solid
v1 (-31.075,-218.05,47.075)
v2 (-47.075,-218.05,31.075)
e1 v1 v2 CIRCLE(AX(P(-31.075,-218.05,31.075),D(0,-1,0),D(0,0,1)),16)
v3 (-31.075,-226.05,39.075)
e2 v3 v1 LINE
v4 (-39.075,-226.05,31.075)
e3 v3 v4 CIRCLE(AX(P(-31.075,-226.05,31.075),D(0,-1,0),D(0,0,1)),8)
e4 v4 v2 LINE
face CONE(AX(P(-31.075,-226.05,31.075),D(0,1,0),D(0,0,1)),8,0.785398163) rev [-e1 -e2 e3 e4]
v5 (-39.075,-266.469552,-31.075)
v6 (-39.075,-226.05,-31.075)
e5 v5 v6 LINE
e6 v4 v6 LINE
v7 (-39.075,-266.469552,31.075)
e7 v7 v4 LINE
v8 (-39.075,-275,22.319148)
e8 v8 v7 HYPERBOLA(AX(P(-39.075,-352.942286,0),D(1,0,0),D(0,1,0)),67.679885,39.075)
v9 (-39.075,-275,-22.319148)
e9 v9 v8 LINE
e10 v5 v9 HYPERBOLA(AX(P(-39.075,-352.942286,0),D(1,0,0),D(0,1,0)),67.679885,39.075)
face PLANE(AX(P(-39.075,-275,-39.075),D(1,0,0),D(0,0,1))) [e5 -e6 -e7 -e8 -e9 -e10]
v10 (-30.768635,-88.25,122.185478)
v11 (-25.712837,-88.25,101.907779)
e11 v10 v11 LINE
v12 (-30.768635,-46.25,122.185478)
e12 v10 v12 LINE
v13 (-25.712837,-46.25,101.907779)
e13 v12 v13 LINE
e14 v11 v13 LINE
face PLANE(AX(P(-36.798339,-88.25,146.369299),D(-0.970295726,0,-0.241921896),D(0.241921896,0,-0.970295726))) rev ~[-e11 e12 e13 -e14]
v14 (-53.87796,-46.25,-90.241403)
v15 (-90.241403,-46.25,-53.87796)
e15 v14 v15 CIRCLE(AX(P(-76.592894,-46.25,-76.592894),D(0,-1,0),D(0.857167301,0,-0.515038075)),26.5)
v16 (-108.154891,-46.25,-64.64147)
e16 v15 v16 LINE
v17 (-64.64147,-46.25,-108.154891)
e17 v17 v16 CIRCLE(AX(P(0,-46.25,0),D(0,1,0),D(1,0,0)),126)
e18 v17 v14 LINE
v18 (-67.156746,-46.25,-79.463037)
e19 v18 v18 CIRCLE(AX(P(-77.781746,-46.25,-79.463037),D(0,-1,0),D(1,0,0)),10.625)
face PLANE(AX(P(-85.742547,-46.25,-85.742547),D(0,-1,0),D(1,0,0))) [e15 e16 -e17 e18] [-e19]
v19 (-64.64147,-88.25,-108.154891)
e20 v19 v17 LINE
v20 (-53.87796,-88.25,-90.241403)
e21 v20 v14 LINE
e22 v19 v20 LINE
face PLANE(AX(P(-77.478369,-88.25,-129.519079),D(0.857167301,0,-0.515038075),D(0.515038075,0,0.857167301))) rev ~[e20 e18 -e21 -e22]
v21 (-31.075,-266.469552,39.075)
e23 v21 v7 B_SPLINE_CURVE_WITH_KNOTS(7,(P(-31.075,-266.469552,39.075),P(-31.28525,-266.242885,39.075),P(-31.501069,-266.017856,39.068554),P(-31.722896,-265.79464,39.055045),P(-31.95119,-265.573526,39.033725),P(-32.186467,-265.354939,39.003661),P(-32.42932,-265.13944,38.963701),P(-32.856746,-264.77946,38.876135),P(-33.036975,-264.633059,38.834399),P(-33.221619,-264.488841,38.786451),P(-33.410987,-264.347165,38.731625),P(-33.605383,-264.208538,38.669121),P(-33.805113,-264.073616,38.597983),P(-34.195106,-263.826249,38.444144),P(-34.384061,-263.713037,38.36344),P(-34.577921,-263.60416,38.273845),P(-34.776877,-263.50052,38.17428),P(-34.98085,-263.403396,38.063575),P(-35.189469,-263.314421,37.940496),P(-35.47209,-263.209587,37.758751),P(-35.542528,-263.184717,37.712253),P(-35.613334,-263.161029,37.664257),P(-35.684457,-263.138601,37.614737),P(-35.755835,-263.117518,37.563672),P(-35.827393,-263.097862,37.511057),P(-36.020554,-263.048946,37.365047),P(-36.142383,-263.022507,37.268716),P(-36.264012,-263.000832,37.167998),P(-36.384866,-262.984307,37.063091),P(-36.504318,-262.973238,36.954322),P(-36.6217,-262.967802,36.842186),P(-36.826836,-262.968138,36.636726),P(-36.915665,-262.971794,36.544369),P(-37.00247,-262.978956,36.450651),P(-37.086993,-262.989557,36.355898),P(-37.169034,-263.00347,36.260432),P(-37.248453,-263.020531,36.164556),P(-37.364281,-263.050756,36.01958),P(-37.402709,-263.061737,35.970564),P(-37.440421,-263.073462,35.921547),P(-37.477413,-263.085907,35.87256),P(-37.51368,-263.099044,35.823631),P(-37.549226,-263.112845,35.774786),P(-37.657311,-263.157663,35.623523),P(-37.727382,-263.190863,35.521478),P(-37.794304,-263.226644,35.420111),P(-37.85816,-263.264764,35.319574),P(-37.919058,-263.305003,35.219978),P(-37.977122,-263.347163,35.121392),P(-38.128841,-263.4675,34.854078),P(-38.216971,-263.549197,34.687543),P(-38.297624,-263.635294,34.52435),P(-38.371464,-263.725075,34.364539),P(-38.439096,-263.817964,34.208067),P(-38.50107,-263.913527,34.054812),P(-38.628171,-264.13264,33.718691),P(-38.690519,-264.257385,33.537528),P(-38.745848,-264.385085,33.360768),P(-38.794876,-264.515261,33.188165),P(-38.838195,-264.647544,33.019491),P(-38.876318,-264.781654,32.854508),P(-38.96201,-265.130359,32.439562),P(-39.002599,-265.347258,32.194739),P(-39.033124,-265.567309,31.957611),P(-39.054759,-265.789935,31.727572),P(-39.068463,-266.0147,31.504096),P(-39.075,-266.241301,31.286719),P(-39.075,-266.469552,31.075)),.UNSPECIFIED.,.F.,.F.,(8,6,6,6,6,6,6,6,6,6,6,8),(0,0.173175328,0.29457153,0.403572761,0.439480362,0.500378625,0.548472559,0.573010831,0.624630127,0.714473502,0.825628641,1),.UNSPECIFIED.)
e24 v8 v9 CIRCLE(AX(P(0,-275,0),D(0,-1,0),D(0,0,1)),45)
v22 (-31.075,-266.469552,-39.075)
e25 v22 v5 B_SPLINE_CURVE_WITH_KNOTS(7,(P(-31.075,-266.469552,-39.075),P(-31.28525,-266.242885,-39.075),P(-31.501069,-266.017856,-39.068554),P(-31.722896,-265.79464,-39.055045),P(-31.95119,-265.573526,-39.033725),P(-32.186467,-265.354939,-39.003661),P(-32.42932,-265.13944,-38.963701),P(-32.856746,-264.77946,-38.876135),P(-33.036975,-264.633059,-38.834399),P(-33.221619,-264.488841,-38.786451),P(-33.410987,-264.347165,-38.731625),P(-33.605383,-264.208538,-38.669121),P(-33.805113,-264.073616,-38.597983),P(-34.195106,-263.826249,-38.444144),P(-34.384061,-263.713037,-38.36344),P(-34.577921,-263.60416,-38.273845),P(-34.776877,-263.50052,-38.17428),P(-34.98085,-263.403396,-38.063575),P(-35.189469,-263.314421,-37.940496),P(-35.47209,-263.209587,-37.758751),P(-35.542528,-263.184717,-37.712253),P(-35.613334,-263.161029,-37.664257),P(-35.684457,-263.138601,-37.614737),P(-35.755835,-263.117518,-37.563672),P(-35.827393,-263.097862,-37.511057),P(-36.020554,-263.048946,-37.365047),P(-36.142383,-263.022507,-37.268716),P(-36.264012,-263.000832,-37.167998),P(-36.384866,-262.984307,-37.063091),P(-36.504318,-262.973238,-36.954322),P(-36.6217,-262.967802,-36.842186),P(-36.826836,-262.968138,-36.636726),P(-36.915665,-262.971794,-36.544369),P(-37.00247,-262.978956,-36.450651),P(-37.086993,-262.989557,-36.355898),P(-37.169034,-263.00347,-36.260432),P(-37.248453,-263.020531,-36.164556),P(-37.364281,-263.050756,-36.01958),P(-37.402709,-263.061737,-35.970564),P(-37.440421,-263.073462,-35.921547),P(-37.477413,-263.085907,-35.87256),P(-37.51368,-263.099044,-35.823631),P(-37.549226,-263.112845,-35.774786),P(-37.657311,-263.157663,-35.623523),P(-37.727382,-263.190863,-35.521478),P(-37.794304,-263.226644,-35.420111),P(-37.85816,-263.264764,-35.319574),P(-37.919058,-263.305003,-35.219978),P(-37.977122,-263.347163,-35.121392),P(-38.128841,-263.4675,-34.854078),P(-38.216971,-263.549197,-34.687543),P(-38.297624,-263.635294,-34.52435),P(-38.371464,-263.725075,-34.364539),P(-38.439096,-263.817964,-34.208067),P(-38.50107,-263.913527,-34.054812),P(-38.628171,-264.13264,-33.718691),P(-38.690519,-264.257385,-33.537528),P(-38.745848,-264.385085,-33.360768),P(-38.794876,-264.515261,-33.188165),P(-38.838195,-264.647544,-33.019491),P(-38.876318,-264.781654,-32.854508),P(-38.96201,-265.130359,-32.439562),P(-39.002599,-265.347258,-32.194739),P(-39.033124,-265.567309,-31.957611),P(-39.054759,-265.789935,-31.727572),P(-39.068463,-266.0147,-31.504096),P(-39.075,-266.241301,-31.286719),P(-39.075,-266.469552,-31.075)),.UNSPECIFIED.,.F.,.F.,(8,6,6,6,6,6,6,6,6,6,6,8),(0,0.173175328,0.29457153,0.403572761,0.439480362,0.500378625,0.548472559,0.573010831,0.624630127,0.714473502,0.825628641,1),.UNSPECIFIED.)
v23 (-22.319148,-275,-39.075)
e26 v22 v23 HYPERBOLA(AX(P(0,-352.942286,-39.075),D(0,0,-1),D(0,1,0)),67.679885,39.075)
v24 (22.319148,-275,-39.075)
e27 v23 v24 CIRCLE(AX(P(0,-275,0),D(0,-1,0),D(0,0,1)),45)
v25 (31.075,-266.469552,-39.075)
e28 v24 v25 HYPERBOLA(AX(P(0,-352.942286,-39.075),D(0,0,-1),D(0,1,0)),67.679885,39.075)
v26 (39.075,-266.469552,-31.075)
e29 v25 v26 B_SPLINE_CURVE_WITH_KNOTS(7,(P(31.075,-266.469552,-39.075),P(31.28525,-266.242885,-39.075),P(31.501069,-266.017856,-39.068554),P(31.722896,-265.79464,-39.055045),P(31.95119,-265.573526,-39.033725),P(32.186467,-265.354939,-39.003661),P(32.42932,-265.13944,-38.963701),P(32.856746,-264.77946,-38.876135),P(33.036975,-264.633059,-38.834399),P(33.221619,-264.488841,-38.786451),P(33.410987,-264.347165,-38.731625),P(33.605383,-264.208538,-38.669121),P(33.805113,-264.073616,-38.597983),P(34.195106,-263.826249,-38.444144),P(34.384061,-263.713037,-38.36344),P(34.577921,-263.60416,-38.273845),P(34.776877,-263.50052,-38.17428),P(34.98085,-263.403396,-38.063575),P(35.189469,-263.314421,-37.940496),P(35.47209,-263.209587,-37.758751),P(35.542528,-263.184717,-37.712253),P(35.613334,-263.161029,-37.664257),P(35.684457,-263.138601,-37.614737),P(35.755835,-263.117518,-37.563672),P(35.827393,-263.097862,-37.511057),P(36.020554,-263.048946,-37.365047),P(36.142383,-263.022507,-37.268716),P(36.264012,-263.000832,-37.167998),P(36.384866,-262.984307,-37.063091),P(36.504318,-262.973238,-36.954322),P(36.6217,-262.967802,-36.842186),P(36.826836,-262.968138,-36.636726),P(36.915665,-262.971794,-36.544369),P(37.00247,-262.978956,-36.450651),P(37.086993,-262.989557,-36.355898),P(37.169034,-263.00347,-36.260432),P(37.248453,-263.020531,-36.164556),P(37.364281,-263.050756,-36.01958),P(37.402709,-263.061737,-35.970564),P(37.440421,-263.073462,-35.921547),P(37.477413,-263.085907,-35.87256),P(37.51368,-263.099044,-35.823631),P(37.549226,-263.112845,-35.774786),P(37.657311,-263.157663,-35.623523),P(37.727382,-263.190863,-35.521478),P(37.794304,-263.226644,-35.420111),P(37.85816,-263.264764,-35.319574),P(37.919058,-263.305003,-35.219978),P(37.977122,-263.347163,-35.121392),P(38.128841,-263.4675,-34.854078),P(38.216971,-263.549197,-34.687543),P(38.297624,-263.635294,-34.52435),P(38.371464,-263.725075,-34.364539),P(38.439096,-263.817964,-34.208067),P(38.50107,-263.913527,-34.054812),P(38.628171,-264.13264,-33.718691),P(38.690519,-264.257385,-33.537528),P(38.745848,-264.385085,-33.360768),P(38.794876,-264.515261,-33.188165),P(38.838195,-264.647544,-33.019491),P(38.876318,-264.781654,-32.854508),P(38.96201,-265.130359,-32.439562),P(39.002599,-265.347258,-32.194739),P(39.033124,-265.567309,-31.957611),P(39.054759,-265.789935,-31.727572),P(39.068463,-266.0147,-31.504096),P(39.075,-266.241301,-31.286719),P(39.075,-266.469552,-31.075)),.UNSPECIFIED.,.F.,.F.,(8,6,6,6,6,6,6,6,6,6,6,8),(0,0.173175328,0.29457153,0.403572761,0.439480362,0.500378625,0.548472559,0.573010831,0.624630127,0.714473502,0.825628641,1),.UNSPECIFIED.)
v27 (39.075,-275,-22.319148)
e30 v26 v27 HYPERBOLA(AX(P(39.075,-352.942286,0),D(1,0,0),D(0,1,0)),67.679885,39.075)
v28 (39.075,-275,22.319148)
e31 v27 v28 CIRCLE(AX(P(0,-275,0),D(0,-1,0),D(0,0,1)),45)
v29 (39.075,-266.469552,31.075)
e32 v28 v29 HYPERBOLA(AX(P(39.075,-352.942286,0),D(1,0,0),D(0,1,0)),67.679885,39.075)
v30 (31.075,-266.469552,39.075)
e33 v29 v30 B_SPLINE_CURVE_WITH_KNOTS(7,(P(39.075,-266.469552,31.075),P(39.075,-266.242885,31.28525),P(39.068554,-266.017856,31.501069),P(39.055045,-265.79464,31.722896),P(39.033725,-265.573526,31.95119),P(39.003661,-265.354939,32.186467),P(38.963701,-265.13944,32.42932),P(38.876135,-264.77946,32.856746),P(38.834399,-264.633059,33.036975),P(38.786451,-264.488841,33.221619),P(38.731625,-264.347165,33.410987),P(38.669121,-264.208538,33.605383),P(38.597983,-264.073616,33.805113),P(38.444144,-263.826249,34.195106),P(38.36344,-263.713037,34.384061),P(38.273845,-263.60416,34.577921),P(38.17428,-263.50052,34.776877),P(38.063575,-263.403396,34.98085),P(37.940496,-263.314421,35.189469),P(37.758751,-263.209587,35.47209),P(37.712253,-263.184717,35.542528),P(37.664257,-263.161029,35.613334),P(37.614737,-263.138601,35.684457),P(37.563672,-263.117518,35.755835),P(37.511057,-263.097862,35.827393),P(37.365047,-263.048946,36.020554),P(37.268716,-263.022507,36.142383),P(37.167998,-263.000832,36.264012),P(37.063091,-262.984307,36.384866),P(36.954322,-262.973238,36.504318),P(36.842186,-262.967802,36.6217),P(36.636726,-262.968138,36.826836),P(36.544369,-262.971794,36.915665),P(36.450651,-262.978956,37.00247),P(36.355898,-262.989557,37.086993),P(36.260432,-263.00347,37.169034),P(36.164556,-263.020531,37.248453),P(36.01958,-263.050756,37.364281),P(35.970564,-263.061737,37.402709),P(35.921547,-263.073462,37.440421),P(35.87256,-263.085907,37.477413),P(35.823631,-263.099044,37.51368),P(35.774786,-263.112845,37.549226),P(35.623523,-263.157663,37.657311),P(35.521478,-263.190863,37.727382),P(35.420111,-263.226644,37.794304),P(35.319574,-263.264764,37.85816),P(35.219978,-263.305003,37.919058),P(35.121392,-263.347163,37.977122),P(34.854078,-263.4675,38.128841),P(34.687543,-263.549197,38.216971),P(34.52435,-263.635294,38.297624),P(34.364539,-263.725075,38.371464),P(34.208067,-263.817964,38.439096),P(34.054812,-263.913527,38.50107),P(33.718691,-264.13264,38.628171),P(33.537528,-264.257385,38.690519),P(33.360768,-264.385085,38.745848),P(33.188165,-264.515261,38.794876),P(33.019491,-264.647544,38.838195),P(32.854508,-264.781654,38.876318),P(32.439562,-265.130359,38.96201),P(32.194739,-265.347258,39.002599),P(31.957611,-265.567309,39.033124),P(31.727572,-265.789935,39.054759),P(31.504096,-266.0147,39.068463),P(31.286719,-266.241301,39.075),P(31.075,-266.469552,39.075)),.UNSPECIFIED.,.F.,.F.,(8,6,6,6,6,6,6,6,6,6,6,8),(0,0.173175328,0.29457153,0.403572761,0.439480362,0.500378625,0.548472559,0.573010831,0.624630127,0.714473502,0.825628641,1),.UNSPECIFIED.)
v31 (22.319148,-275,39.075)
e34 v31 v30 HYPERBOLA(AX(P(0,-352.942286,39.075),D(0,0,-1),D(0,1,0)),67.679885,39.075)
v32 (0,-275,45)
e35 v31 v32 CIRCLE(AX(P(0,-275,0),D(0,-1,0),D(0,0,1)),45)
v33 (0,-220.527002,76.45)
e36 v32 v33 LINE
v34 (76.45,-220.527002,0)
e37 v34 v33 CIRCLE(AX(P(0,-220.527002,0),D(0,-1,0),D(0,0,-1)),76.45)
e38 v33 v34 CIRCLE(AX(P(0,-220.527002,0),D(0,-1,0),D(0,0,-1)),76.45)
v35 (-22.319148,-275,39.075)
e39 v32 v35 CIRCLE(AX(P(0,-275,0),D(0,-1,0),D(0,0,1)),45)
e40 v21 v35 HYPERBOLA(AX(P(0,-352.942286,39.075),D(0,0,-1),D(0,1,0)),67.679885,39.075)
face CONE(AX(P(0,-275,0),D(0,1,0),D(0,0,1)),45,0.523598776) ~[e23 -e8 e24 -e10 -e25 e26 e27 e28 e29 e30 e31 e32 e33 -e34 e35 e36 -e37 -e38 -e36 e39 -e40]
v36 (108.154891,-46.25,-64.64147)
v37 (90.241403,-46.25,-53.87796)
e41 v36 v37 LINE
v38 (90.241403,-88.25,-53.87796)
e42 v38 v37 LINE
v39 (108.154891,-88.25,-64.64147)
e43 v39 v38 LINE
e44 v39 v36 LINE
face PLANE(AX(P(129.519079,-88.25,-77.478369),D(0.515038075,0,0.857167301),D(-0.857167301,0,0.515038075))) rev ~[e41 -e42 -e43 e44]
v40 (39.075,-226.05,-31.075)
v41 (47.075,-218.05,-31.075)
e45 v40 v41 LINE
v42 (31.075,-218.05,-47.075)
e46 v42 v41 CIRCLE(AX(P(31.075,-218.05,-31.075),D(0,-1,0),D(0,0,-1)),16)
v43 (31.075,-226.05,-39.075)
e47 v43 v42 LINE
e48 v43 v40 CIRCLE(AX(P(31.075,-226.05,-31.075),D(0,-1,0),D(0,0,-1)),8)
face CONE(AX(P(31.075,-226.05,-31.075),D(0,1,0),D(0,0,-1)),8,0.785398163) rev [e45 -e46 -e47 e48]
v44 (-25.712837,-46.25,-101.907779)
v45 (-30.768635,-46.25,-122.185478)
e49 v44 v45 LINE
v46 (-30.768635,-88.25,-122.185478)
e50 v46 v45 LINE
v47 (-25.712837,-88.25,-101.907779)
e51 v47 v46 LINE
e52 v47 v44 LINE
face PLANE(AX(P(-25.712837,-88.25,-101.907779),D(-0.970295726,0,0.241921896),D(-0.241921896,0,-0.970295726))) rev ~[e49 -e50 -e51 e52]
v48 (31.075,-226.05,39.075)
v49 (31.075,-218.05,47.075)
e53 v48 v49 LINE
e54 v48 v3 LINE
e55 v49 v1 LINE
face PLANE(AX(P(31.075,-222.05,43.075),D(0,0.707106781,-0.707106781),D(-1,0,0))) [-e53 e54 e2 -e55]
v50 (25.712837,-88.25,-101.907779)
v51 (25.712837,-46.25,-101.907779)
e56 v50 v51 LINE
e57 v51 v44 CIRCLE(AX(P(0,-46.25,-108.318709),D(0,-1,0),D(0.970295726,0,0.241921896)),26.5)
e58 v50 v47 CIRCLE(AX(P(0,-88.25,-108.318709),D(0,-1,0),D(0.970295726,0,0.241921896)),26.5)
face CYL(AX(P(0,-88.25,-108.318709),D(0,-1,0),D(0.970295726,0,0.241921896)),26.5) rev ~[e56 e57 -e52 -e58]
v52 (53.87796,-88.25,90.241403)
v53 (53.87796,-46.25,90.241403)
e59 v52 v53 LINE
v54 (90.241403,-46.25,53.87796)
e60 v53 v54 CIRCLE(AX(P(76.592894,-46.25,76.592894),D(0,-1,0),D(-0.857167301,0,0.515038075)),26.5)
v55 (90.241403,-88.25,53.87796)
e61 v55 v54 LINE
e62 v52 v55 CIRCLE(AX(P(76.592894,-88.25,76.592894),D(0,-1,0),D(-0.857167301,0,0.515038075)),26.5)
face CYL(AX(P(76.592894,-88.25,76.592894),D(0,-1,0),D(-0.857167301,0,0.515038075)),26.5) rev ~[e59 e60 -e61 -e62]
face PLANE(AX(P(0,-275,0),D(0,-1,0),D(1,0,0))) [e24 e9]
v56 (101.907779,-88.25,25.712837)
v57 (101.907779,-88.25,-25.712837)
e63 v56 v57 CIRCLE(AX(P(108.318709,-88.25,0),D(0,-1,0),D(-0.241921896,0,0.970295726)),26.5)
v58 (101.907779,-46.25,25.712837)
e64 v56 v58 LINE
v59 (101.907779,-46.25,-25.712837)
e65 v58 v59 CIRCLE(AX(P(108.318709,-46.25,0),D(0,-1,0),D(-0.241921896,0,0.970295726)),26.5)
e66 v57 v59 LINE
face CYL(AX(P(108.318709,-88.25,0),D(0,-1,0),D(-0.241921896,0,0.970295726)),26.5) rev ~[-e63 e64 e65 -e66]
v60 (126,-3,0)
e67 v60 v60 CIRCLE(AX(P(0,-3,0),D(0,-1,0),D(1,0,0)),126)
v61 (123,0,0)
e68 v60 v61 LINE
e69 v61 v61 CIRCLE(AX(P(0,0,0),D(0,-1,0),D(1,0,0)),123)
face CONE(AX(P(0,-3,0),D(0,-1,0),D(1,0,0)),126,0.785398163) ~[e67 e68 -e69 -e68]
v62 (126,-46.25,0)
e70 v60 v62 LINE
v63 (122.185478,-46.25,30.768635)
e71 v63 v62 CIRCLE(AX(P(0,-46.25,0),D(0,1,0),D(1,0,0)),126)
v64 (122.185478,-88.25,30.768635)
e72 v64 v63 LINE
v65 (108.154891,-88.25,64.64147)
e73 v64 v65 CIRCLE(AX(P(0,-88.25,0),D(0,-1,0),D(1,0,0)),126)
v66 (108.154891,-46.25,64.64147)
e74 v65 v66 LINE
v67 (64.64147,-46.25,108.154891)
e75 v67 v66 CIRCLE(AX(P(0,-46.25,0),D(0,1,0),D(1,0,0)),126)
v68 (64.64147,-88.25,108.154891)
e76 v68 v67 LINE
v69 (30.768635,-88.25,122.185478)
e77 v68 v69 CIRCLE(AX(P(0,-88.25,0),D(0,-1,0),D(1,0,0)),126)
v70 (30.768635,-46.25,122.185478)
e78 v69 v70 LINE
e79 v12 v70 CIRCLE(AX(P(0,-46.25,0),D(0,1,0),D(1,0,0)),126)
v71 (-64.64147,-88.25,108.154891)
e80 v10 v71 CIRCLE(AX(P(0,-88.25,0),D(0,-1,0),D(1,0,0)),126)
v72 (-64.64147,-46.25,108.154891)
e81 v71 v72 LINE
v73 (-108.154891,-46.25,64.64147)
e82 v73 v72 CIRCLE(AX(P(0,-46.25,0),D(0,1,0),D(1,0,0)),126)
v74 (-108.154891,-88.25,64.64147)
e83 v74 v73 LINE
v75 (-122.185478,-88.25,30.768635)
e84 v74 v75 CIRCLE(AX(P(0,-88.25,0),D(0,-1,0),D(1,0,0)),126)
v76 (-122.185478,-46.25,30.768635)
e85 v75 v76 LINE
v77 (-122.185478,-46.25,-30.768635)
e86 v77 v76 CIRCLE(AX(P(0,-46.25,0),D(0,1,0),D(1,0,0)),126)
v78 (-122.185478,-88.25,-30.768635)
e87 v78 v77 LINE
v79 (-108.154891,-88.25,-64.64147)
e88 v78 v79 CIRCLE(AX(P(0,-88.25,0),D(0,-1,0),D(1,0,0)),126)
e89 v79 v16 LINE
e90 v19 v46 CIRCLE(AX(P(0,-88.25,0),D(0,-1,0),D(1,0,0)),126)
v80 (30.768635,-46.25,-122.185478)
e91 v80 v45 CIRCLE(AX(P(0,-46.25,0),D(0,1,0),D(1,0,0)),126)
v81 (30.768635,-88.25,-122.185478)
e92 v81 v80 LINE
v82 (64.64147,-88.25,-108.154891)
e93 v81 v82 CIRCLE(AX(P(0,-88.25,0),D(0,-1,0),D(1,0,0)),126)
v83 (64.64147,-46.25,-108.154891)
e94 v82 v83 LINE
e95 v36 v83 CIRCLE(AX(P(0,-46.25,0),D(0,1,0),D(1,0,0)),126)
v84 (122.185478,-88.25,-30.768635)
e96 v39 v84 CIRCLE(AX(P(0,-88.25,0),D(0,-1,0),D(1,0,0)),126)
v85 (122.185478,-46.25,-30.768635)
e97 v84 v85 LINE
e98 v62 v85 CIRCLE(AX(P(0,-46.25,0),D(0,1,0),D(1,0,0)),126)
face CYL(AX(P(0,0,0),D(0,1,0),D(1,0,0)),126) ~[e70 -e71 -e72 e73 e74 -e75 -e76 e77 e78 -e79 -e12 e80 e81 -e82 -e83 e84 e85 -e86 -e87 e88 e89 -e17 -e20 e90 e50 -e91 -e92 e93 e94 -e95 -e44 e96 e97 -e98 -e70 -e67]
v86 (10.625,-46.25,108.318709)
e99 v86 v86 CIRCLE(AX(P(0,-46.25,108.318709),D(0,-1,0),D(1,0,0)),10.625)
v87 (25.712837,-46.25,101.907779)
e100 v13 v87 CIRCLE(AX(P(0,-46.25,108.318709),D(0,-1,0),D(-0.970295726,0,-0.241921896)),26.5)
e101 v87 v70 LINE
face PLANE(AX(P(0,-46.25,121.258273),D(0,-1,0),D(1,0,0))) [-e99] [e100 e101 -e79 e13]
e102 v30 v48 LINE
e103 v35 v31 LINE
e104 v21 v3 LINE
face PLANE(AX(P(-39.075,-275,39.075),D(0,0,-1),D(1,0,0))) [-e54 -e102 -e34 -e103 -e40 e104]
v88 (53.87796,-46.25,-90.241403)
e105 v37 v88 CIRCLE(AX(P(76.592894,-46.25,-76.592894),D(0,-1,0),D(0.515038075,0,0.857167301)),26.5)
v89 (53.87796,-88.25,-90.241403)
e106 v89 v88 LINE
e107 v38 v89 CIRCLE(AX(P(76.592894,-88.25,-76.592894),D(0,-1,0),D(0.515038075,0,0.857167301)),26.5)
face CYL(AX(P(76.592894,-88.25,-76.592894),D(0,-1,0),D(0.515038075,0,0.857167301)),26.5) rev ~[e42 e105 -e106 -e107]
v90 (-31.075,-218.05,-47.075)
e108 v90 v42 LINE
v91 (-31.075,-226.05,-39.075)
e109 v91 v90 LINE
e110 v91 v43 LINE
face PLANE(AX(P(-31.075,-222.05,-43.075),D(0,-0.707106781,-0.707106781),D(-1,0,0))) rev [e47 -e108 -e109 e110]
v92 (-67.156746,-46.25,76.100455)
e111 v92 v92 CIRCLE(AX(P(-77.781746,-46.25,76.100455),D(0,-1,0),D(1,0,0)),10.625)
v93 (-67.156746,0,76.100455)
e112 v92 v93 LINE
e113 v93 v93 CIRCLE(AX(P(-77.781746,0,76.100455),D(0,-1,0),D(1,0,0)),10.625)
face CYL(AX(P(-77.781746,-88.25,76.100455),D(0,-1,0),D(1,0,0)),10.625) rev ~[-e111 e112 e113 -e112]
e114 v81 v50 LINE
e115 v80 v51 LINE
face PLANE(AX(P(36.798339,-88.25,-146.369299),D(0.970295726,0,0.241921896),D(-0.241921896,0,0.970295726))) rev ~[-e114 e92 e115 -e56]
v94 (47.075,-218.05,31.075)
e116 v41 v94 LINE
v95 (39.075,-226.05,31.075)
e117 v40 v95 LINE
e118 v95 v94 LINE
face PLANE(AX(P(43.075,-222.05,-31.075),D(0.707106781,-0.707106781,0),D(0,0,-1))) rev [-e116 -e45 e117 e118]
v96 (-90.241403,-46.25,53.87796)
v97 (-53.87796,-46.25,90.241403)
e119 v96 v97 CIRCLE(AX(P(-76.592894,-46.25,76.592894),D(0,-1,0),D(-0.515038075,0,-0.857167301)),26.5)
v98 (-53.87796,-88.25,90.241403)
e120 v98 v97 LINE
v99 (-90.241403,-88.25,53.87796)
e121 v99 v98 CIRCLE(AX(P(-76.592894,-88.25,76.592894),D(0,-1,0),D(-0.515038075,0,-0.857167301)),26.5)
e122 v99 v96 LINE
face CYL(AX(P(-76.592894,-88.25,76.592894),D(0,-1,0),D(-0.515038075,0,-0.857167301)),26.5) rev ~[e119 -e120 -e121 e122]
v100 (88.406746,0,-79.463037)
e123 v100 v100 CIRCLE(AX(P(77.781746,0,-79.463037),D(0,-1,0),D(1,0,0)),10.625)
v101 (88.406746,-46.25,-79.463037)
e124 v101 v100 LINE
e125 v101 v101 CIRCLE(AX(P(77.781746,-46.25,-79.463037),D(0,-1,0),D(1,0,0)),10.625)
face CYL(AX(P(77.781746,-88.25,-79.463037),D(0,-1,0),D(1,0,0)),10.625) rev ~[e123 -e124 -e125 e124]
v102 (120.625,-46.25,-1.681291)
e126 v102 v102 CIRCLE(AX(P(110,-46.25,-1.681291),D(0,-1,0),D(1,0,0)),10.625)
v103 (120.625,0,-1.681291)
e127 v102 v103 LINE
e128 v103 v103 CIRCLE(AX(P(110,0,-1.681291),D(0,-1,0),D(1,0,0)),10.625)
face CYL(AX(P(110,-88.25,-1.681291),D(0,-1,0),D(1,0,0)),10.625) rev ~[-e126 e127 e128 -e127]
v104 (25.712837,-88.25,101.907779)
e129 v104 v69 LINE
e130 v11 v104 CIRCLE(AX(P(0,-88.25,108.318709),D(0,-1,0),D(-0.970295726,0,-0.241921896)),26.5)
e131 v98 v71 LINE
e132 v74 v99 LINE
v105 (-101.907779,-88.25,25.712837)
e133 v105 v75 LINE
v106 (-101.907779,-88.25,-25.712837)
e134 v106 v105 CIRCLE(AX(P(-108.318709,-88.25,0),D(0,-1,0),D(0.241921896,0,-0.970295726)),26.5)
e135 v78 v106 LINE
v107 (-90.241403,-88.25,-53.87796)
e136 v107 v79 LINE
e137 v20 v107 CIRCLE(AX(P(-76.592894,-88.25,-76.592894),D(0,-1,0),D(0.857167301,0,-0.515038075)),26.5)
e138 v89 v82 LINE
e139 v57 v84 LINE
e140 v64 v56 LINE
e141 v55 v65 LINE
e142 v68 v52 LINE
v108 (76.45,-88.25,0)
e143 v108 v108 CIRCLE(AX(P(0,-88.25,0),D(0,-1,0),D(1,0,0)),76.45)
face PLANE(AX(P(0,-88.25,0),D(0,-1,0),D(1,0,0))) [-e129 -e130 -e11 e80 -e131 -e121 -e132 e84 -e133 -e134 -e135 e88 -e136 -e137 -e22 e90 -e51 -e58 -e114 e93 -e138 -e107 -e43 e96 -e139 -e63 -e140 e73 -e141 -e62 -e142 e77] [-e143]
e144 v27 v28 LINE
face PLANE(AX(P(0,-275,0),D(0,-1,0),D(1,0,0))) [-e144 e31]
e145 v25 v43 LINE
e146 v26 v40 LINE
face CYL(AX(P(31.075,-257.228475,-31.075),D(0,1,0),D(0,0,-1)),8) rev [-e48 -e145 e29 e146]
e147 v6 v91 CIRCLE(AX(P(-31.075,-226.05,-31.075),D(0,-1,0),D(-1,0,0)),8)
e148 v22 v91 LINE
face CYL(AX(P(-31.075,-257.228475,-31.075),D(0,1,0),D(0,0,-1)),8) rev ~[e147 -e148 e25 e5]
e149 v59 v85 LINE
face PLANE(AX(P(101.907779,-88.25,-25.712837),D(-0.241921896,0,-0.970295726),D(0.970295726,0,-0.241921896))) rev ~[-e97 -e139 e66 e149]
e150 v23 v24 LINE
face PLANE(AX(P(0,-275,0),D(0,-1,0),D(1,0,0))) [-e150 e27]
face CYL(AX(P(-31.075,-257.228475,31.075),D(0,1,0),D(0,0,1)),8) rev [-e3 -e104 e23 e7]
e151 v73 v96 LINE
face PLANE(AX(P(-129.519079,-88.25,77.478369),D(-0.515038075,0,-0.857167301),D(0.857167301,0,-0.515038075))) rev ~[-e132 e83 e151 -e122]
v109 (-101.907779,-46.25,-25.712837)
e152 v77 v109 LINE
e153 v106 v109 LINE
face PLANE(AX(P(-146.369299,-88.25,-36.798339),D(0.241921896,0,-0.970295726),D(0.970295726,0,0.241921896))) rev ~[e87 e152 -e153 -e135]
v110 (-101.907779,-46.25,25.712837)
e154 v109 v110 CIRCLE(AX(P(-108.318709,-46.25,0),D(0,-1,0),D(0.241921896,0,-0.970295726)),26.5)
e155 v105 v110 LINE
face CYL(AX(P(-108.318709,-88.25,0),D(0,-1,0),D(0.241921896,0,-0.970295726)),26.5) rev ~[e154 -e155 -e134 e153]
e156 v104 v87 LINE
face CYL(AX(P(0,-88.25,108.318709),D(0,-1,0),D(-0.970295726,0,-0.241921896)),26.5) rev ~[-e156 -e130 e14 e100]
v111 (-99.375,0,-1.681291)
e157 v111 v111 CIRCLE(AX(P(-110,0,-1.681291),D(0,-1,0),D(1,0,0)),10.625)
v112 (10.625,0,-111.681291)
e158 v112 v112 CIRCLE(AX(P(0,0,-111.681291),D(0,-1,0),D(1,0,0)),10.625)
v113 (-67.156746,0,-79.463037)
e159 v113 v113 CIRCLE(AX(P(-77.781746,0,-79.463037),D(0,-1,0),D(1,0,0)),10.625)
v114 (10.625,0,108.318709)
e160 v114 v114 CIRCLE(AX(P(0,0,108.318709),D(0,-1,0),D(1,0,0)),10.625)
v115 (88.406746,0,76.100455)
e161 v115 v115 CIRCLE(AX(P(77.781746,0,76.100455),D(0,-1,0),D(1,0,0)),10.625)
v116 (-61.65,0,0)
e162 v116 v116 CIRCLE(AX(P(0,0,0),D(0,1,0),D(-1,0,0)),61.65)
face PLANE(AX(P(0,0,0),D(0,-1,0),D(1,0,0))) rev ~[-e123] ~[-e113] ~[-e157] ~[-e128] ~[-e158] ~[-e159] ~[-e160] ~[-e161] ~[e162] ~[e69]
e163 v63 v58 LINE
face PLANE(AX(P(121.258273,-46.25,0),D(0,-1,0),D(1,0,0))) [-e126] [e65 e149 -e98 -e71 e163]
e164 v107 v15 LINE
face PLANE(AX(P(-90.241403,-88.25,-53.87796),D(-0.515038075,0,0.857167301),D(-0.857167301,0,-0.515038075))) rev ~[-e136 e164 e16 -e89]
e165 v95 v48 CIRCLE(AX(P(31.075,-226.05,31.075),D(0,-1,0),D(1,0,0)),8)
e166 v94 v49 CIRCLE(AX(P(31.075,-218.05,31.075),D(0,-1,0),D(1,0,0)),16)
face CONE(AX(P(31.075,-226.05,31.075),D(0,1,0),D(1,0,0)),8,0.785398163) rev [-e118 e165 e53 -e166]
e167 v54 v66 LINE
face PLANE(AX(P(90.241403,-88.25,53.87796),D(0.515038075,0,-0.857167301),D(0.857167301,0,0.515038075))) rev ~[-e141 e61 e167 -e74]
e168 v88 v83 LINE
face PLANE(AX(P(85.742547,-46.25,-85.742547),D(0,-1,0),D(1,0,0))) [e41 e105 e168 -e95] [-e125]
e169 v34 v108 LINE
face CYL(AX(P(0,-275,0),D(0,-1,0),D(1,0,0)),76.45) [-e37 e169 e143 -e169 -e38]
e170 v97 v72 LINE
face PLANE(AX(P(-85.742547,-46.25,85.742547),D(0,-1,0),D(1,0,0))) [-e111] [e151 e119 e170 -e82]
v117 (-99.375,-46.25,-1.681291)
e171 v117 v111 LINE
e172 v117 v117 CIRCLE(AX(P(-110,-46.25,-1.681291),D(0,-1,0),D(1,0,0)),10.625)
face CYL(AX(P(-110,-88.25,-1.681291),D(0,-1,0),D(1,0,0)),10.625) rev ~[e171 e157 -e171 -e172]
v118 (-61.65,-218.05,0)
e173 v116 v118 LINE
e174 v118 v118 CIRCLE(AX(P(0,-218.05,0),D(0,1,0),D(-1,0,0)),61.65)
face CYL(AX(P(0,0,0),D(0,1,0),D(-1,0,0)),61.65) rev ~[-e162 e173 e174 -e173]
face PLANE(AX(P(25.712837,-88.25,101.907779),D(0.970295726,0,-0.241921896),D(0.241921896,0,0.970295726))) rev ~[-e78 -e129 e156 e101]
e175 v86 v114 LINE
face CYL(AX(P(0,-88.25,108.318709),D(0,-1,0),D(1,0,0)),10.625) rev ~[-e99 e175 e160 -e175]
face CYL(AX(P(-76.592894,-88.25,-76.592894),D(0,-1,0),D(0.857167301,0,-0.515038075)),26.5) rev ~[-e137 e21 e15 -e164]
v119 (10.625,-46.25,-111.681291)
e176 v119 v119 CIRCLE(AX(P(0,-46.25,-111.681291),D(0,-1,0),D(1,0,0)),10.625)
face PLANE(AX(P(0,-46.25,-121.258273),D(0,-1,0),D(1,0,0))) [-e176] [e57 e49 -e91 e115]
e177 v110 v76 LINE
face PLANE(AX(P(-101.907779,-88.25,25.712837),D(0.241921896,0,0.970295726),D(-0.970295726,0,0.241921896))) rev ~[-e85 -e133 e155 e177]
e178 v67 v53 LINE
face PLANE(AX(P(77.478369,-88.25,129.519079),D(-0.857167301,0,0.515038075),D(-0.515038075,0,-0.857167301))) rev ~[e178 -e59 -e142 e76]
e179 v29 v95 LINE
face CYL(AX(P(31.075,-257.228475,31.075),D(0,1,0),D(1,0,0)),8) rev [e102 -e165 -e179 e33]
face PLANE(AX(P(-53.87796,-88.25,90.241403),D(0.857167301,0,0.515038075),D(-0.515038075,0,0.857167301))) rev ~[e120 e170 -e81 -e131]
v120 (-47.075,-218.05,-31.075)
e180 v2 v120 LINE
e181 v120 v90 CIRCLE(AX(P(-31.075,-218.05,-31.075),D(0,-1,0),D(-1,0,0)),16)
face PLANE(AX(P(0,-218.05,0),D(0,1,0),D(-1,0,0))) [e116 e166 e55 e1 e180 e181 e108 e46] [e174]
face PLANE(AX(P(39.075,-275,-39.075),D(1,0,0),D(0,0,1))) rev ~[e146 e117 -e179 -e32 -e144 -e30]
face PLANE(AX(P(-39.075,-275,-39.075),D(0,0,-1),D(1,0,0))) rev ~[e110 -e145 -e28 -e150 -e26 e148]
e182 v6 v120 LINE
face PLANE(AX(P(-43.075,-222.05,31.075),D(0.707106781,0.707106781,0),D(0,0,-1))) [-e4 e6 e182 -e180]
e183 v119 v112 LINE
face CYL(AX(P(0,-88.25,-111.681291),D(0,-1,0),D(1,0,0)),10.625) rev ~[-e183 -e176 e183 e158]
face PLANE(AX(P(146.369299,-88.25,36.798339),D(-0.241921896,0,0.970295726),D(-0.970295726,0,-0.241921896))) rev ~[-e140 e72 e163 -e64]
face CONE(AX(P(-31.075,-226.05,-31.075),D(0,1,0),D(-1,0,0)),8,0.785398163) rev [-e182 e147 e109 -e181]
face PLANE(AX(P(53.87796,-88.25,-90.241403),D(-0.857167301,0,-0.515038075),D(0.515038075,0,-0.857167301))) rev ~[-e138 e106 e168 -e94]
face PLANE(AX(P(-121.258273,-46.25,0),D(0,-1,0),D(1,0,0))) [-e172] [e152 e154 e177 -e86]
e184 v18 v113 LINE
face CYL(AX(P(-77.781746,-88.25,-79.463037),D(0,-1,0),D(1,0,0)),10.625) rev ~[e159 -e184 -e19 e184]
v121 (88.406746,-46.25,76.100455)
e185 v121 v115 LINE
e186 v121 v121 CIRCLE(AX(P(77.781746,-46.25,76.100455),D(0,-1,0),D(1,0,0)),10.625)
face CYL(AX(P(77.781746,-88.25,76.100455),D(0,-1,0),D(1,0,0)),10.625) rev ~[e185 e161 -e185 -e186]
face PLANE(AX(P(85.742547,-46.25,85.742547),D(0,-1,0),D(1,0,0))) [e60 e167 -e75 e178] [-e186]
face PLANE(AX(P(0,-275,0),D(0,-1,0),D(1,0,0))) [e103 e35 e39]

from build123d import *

# Parameters (mm, degrees)
F0_R      = 126
F1_DEPTH  = 275
F2_R      = 126
F2_R_2    = 76.45
F3_DEPTH  = 186.75
F4_R      = 10.625
F5_DEPTH  = 25
F6_DEPTH  = 169
F8_DEPTH  = 42
F9_SIZE   = 3
F10_R     = 61.65
F11_DEPTH = 218.05
F14_W     = 78.15
F14_H     = 78.15
F15_DEPTH = 60
F16_R     = 8
F17_R     = 8
F18_R     = 8
F19_R     = 8
F20_SIZE  = 8


with BuildPart() as f1:
    # F0 (on Front) → F1 (new body)
    with BuildSketch(Plane.XZ):
        Circle(F0_R)
    extrude(amount=F1_DEPTH)

    # F2 (on face) → F3 (cut)
    with BuildSketch(Plane.XZ.offset(275)):
        Circle(F2_R)
        Circle(F2_R_2, mode=Mode.SUBTRACT)
    extrude(amount=-F3_DEPTH, mode=Mode.SUBTRACT)

    # F4 (on face) → F5 (cut)
    with BuildSketch(Plane.XZ.offset(88.25)):
        with Locations((0, 108.3187091187)):
            Circle(F4_R)
        with Locations((-77.7817459305, 76.1004550493)):
            Circle(F4_R)
        with Locations((-110, -1.6812908813)):
            Circle(F4_R)
        with Locations((-77.7817459305, -79.4630368118)):
            Circle(F4_R)
        with Locations((0, -111.6812908813)):
            Circle(F4_R)
        with Locations((77.7817459305, -79.4630368118)):
            Circle(F4_R)
        with Locations((110, -1.6812908813)):
            Circle(F4_R)
        with Locations((77.7817459305, 76.1004550493)):
            Circle(F4_R)
    extrude(amount=-F5_DEPTH, mode=Mode.SUBTRACT)

    # F4 (on face) → F6 (cut)
    with BuildSketch(Plane.XZ.offset(88.25)):
        with Locations((0, 108.3187091187)):
            Circle(F4_R)
        with Locations((-77.7817459305, 76.1004550493)):
            Circle(F4_R)
        with Locations((-110, -1.6812908813)):
            Circle(F4_R)
        with Locations((-77.7817459305, -79.4630368118)):
            Circle(F4_R)
        with Locations((0, -111.6812908813)):
            Circle(F4_R)
        with Locations((77.7817459305, -79.4630368118)):
            Circle(F4_R)
        with Locations((110, -1.6812908813)):
            Circle(F4_R)
        with Locations((77.7817459305, 76.1004550493)):
            Circle(F4_R)
    extrude(amount=-F6_DEPTH, mode=Mode.SUBTRACT)

    # F7 (on face) → F8 (cut)
    with BuildSketch(Plane.XZ.offset(88.25)):
        with BuildLine():
            Line((-36.7983387241, 146.3692988564), (-25.7128367463, 101.9077788854))
            ThreePointArc((-25.7128367463, 101.9077788854), (0, 81.8187091187), (25.7128367463, 101.9077788854))
            Line((25.7128367463, 101.9077788854), (36.7983387241, 146.3692988564))
            Line((36.7983387241, 146.3692988564), (-36.7983387241, 146.3692988564))
        make_face()
        with BuildLine():
            Line((-53.8779602786, 90.2414027324), (-77.4783689307, 129.5190786271))
            Line((-77.4783689307, 129.5190786271), (-129.5190786271, 77.4783689307))
            Line((-129.5190786271, 77.4783689307), (-90.2414027324, 53.8779602786))
            ThreePointArc((-90.2414027324, 53.8779602786), (-57.8545640458, 57.8545640458), (-53.8779602786, 90.2414027324))
        make_face()
        with BuildLine():
            Line((-101.9077788854, 25.7128367463), (-146.3692988564, 36.7983387241))
            Line((-146.3692988564, 36.7983387241), (-146.3692988564, -36.7983387241))
            Line((-146.3692988564, -36.7983387241), (-101.9077788854, -25.7128367463))
            ThreePointArc((-101.9077788854, -25.7128367463), (-81.8187091187, 0), (-101.9077788854, 25.7128367463))
        make_face()
        with BuildLine():
            Line((-90.2414027324, -53.8779602786), (-129.5190786271, -77.4783689307))
            Line((-129.5190786271, -77.4783689307), (-77.4783689307, -129.5190786271))
            Line((-77.4783689307, -129.5190786271), (-53.8779602786, -90.2414027324))
            ThreePointArc((-53.8779602786, -90.2414027324), (-57.8545640458, -57.8545640458), (-90.2414027324, -53.8779602786))
        make_face()
        with BuildLine():
            Line((-25.7128367463, -101.9077788854), (-36.7983387241, -146.3692988564))
            Line((-36.7983387241, -146.3692988564), (36.7983387241, -146.3692988564))
            Line((36.7983387241, -146.3692988564), (25.7128367463, -101.9077788854))
            ThreePointArc((25.7128367463, -101.9077788854), (0, -81.8187091187), (-25.7128367463, -101.9077788854))
        make_face()
        with BuildLine():
            Line((53.8779602786, -90.2414027324), (77.4783689307, -129.5190786271))
            Line((77.4783689307, -129.5190786271), (129.5190786271, -77.4783689307))
            Line((129.5190786271, -77.4783689307), (90.2414027324, -53.8779602786))
            ThreePointArc((90.2414027324, -53.8779602786), (57.8545640458, -57.8545640458), (53.8779602786, -90.2414027324))
        make_face()
        with BuildLine():
            Line((101.9077788854, -25.7128367463), (146.3692988564, -36.7983387241))
            Line((146.3692988564, -36.7983387241), (146.3692988564, 36.7983387241))
            Line((146.3692988564, 36.7983387241), (101.9077788854, 25.7128367463))
            ThreePointArc((101.9077788854, 25.7128367463), (81.8187091187, 0), (101.9077788854, -25.7128367463))
        make_face()
        with BuildLine():
            Line((90.2414027324, 53.8779602786), (129.5190786271, 77.4783689307))
            Line((129.5190786271, 77.4783689307), (77.4783689307, 129.5190786271))
            Line((77.4783689307, 129.5190786271), (53.8779602786, 90.2414027324))
            ThreePointArc((53.8779602786, 90.2414027324), (57.8545640458, 57.8545640458), (90.2414027324, 53.8779602786))
        make_face()
    extrude(amount=-F8_DEPTH, mode=Mode.SUBTRACT)

    # F9
    f9_edges = [f1.edges().sort_by_distance(p)[0] for p in [
        (-126, 0, 0),
    ]]
    chamfer(f9_edges, length=F9_SIZE)

    # F10 (on face) → F11 (cut)
    with BuildSketch(Plane(origin=(0, 0, 0), x_dir=(-1, 0, 0), z_dir=(0, 1, 0))):
        Circle(F10_R)
    extrude(amount=-F11_DEPTH, mode=Mode.SUBTRACT)

    # F12 (on Right) → F13 (revolve, cut)
    with BuildSketch(Plane.YZ):
        Polygon((-287.4912917614, 86.0934704542), (-275, 45), (-210.72777727, 82.1075850946), align=None)
    revolve(axis=Axis((0, -206.6095604543, 0), (0, -1, 0)), mode=Mode.SUBTRACT)

    # F14 (on face) → F15 (cut)
    with BuildSketch(Plane.XZ.offset(275)):
        Rectangle(F14_W, F14_H)
    extrude(amount=-F15_DEPTH, mode=Mode.SUBTRACT)

    # F16
    f16_edges = [f1.edges().sort_by_distance(p)[0] for p in [
        (-39.075, -237.639237, -39.075),
    ]]
    fillet(f16_edges, radius=F16_R)

    # F17
    f17_edges = [f1.edges().sort_by_distance(p)[0] for p in [
        (39.075, -237.639237, 39.075),
    ]]
    fillet(f17_edges, radius=F17_R)

    # F18
    f18_edges = [f1.edges().sort_by_distance(p)[0] for p in [
        (-39.075, -237.639237, 39.075),
    ]]
    fillet(f18_edges, radius=F18_R)

    # F19
    f19_edges = [f1.edges().sort_by_distance(p)[0] for p in [
        (39.075, -237.639237, -39.075),
    ]]
    fillet(f19_edges, radius=F19_R)

    # F20
    f20_edges = [f1.edges().sort_by_distance(p)[0] for p in [
        (-39.075, -218.05, 0),
        (-36.731854, -218.05, 36.731854),
        (0, -218.05, 39.075),
        (36.731854, -218.05, 36.731854),
        (39.075, -218.05, 0),
        (0, -218.05, -39.075),
        (-36.731854, -218.05, -36.731854),
        (36.731854, -218.05, -36.731854),
    ]]
    chamfer(f20_edges, length=F20_SIZE)


solid = f1.part
